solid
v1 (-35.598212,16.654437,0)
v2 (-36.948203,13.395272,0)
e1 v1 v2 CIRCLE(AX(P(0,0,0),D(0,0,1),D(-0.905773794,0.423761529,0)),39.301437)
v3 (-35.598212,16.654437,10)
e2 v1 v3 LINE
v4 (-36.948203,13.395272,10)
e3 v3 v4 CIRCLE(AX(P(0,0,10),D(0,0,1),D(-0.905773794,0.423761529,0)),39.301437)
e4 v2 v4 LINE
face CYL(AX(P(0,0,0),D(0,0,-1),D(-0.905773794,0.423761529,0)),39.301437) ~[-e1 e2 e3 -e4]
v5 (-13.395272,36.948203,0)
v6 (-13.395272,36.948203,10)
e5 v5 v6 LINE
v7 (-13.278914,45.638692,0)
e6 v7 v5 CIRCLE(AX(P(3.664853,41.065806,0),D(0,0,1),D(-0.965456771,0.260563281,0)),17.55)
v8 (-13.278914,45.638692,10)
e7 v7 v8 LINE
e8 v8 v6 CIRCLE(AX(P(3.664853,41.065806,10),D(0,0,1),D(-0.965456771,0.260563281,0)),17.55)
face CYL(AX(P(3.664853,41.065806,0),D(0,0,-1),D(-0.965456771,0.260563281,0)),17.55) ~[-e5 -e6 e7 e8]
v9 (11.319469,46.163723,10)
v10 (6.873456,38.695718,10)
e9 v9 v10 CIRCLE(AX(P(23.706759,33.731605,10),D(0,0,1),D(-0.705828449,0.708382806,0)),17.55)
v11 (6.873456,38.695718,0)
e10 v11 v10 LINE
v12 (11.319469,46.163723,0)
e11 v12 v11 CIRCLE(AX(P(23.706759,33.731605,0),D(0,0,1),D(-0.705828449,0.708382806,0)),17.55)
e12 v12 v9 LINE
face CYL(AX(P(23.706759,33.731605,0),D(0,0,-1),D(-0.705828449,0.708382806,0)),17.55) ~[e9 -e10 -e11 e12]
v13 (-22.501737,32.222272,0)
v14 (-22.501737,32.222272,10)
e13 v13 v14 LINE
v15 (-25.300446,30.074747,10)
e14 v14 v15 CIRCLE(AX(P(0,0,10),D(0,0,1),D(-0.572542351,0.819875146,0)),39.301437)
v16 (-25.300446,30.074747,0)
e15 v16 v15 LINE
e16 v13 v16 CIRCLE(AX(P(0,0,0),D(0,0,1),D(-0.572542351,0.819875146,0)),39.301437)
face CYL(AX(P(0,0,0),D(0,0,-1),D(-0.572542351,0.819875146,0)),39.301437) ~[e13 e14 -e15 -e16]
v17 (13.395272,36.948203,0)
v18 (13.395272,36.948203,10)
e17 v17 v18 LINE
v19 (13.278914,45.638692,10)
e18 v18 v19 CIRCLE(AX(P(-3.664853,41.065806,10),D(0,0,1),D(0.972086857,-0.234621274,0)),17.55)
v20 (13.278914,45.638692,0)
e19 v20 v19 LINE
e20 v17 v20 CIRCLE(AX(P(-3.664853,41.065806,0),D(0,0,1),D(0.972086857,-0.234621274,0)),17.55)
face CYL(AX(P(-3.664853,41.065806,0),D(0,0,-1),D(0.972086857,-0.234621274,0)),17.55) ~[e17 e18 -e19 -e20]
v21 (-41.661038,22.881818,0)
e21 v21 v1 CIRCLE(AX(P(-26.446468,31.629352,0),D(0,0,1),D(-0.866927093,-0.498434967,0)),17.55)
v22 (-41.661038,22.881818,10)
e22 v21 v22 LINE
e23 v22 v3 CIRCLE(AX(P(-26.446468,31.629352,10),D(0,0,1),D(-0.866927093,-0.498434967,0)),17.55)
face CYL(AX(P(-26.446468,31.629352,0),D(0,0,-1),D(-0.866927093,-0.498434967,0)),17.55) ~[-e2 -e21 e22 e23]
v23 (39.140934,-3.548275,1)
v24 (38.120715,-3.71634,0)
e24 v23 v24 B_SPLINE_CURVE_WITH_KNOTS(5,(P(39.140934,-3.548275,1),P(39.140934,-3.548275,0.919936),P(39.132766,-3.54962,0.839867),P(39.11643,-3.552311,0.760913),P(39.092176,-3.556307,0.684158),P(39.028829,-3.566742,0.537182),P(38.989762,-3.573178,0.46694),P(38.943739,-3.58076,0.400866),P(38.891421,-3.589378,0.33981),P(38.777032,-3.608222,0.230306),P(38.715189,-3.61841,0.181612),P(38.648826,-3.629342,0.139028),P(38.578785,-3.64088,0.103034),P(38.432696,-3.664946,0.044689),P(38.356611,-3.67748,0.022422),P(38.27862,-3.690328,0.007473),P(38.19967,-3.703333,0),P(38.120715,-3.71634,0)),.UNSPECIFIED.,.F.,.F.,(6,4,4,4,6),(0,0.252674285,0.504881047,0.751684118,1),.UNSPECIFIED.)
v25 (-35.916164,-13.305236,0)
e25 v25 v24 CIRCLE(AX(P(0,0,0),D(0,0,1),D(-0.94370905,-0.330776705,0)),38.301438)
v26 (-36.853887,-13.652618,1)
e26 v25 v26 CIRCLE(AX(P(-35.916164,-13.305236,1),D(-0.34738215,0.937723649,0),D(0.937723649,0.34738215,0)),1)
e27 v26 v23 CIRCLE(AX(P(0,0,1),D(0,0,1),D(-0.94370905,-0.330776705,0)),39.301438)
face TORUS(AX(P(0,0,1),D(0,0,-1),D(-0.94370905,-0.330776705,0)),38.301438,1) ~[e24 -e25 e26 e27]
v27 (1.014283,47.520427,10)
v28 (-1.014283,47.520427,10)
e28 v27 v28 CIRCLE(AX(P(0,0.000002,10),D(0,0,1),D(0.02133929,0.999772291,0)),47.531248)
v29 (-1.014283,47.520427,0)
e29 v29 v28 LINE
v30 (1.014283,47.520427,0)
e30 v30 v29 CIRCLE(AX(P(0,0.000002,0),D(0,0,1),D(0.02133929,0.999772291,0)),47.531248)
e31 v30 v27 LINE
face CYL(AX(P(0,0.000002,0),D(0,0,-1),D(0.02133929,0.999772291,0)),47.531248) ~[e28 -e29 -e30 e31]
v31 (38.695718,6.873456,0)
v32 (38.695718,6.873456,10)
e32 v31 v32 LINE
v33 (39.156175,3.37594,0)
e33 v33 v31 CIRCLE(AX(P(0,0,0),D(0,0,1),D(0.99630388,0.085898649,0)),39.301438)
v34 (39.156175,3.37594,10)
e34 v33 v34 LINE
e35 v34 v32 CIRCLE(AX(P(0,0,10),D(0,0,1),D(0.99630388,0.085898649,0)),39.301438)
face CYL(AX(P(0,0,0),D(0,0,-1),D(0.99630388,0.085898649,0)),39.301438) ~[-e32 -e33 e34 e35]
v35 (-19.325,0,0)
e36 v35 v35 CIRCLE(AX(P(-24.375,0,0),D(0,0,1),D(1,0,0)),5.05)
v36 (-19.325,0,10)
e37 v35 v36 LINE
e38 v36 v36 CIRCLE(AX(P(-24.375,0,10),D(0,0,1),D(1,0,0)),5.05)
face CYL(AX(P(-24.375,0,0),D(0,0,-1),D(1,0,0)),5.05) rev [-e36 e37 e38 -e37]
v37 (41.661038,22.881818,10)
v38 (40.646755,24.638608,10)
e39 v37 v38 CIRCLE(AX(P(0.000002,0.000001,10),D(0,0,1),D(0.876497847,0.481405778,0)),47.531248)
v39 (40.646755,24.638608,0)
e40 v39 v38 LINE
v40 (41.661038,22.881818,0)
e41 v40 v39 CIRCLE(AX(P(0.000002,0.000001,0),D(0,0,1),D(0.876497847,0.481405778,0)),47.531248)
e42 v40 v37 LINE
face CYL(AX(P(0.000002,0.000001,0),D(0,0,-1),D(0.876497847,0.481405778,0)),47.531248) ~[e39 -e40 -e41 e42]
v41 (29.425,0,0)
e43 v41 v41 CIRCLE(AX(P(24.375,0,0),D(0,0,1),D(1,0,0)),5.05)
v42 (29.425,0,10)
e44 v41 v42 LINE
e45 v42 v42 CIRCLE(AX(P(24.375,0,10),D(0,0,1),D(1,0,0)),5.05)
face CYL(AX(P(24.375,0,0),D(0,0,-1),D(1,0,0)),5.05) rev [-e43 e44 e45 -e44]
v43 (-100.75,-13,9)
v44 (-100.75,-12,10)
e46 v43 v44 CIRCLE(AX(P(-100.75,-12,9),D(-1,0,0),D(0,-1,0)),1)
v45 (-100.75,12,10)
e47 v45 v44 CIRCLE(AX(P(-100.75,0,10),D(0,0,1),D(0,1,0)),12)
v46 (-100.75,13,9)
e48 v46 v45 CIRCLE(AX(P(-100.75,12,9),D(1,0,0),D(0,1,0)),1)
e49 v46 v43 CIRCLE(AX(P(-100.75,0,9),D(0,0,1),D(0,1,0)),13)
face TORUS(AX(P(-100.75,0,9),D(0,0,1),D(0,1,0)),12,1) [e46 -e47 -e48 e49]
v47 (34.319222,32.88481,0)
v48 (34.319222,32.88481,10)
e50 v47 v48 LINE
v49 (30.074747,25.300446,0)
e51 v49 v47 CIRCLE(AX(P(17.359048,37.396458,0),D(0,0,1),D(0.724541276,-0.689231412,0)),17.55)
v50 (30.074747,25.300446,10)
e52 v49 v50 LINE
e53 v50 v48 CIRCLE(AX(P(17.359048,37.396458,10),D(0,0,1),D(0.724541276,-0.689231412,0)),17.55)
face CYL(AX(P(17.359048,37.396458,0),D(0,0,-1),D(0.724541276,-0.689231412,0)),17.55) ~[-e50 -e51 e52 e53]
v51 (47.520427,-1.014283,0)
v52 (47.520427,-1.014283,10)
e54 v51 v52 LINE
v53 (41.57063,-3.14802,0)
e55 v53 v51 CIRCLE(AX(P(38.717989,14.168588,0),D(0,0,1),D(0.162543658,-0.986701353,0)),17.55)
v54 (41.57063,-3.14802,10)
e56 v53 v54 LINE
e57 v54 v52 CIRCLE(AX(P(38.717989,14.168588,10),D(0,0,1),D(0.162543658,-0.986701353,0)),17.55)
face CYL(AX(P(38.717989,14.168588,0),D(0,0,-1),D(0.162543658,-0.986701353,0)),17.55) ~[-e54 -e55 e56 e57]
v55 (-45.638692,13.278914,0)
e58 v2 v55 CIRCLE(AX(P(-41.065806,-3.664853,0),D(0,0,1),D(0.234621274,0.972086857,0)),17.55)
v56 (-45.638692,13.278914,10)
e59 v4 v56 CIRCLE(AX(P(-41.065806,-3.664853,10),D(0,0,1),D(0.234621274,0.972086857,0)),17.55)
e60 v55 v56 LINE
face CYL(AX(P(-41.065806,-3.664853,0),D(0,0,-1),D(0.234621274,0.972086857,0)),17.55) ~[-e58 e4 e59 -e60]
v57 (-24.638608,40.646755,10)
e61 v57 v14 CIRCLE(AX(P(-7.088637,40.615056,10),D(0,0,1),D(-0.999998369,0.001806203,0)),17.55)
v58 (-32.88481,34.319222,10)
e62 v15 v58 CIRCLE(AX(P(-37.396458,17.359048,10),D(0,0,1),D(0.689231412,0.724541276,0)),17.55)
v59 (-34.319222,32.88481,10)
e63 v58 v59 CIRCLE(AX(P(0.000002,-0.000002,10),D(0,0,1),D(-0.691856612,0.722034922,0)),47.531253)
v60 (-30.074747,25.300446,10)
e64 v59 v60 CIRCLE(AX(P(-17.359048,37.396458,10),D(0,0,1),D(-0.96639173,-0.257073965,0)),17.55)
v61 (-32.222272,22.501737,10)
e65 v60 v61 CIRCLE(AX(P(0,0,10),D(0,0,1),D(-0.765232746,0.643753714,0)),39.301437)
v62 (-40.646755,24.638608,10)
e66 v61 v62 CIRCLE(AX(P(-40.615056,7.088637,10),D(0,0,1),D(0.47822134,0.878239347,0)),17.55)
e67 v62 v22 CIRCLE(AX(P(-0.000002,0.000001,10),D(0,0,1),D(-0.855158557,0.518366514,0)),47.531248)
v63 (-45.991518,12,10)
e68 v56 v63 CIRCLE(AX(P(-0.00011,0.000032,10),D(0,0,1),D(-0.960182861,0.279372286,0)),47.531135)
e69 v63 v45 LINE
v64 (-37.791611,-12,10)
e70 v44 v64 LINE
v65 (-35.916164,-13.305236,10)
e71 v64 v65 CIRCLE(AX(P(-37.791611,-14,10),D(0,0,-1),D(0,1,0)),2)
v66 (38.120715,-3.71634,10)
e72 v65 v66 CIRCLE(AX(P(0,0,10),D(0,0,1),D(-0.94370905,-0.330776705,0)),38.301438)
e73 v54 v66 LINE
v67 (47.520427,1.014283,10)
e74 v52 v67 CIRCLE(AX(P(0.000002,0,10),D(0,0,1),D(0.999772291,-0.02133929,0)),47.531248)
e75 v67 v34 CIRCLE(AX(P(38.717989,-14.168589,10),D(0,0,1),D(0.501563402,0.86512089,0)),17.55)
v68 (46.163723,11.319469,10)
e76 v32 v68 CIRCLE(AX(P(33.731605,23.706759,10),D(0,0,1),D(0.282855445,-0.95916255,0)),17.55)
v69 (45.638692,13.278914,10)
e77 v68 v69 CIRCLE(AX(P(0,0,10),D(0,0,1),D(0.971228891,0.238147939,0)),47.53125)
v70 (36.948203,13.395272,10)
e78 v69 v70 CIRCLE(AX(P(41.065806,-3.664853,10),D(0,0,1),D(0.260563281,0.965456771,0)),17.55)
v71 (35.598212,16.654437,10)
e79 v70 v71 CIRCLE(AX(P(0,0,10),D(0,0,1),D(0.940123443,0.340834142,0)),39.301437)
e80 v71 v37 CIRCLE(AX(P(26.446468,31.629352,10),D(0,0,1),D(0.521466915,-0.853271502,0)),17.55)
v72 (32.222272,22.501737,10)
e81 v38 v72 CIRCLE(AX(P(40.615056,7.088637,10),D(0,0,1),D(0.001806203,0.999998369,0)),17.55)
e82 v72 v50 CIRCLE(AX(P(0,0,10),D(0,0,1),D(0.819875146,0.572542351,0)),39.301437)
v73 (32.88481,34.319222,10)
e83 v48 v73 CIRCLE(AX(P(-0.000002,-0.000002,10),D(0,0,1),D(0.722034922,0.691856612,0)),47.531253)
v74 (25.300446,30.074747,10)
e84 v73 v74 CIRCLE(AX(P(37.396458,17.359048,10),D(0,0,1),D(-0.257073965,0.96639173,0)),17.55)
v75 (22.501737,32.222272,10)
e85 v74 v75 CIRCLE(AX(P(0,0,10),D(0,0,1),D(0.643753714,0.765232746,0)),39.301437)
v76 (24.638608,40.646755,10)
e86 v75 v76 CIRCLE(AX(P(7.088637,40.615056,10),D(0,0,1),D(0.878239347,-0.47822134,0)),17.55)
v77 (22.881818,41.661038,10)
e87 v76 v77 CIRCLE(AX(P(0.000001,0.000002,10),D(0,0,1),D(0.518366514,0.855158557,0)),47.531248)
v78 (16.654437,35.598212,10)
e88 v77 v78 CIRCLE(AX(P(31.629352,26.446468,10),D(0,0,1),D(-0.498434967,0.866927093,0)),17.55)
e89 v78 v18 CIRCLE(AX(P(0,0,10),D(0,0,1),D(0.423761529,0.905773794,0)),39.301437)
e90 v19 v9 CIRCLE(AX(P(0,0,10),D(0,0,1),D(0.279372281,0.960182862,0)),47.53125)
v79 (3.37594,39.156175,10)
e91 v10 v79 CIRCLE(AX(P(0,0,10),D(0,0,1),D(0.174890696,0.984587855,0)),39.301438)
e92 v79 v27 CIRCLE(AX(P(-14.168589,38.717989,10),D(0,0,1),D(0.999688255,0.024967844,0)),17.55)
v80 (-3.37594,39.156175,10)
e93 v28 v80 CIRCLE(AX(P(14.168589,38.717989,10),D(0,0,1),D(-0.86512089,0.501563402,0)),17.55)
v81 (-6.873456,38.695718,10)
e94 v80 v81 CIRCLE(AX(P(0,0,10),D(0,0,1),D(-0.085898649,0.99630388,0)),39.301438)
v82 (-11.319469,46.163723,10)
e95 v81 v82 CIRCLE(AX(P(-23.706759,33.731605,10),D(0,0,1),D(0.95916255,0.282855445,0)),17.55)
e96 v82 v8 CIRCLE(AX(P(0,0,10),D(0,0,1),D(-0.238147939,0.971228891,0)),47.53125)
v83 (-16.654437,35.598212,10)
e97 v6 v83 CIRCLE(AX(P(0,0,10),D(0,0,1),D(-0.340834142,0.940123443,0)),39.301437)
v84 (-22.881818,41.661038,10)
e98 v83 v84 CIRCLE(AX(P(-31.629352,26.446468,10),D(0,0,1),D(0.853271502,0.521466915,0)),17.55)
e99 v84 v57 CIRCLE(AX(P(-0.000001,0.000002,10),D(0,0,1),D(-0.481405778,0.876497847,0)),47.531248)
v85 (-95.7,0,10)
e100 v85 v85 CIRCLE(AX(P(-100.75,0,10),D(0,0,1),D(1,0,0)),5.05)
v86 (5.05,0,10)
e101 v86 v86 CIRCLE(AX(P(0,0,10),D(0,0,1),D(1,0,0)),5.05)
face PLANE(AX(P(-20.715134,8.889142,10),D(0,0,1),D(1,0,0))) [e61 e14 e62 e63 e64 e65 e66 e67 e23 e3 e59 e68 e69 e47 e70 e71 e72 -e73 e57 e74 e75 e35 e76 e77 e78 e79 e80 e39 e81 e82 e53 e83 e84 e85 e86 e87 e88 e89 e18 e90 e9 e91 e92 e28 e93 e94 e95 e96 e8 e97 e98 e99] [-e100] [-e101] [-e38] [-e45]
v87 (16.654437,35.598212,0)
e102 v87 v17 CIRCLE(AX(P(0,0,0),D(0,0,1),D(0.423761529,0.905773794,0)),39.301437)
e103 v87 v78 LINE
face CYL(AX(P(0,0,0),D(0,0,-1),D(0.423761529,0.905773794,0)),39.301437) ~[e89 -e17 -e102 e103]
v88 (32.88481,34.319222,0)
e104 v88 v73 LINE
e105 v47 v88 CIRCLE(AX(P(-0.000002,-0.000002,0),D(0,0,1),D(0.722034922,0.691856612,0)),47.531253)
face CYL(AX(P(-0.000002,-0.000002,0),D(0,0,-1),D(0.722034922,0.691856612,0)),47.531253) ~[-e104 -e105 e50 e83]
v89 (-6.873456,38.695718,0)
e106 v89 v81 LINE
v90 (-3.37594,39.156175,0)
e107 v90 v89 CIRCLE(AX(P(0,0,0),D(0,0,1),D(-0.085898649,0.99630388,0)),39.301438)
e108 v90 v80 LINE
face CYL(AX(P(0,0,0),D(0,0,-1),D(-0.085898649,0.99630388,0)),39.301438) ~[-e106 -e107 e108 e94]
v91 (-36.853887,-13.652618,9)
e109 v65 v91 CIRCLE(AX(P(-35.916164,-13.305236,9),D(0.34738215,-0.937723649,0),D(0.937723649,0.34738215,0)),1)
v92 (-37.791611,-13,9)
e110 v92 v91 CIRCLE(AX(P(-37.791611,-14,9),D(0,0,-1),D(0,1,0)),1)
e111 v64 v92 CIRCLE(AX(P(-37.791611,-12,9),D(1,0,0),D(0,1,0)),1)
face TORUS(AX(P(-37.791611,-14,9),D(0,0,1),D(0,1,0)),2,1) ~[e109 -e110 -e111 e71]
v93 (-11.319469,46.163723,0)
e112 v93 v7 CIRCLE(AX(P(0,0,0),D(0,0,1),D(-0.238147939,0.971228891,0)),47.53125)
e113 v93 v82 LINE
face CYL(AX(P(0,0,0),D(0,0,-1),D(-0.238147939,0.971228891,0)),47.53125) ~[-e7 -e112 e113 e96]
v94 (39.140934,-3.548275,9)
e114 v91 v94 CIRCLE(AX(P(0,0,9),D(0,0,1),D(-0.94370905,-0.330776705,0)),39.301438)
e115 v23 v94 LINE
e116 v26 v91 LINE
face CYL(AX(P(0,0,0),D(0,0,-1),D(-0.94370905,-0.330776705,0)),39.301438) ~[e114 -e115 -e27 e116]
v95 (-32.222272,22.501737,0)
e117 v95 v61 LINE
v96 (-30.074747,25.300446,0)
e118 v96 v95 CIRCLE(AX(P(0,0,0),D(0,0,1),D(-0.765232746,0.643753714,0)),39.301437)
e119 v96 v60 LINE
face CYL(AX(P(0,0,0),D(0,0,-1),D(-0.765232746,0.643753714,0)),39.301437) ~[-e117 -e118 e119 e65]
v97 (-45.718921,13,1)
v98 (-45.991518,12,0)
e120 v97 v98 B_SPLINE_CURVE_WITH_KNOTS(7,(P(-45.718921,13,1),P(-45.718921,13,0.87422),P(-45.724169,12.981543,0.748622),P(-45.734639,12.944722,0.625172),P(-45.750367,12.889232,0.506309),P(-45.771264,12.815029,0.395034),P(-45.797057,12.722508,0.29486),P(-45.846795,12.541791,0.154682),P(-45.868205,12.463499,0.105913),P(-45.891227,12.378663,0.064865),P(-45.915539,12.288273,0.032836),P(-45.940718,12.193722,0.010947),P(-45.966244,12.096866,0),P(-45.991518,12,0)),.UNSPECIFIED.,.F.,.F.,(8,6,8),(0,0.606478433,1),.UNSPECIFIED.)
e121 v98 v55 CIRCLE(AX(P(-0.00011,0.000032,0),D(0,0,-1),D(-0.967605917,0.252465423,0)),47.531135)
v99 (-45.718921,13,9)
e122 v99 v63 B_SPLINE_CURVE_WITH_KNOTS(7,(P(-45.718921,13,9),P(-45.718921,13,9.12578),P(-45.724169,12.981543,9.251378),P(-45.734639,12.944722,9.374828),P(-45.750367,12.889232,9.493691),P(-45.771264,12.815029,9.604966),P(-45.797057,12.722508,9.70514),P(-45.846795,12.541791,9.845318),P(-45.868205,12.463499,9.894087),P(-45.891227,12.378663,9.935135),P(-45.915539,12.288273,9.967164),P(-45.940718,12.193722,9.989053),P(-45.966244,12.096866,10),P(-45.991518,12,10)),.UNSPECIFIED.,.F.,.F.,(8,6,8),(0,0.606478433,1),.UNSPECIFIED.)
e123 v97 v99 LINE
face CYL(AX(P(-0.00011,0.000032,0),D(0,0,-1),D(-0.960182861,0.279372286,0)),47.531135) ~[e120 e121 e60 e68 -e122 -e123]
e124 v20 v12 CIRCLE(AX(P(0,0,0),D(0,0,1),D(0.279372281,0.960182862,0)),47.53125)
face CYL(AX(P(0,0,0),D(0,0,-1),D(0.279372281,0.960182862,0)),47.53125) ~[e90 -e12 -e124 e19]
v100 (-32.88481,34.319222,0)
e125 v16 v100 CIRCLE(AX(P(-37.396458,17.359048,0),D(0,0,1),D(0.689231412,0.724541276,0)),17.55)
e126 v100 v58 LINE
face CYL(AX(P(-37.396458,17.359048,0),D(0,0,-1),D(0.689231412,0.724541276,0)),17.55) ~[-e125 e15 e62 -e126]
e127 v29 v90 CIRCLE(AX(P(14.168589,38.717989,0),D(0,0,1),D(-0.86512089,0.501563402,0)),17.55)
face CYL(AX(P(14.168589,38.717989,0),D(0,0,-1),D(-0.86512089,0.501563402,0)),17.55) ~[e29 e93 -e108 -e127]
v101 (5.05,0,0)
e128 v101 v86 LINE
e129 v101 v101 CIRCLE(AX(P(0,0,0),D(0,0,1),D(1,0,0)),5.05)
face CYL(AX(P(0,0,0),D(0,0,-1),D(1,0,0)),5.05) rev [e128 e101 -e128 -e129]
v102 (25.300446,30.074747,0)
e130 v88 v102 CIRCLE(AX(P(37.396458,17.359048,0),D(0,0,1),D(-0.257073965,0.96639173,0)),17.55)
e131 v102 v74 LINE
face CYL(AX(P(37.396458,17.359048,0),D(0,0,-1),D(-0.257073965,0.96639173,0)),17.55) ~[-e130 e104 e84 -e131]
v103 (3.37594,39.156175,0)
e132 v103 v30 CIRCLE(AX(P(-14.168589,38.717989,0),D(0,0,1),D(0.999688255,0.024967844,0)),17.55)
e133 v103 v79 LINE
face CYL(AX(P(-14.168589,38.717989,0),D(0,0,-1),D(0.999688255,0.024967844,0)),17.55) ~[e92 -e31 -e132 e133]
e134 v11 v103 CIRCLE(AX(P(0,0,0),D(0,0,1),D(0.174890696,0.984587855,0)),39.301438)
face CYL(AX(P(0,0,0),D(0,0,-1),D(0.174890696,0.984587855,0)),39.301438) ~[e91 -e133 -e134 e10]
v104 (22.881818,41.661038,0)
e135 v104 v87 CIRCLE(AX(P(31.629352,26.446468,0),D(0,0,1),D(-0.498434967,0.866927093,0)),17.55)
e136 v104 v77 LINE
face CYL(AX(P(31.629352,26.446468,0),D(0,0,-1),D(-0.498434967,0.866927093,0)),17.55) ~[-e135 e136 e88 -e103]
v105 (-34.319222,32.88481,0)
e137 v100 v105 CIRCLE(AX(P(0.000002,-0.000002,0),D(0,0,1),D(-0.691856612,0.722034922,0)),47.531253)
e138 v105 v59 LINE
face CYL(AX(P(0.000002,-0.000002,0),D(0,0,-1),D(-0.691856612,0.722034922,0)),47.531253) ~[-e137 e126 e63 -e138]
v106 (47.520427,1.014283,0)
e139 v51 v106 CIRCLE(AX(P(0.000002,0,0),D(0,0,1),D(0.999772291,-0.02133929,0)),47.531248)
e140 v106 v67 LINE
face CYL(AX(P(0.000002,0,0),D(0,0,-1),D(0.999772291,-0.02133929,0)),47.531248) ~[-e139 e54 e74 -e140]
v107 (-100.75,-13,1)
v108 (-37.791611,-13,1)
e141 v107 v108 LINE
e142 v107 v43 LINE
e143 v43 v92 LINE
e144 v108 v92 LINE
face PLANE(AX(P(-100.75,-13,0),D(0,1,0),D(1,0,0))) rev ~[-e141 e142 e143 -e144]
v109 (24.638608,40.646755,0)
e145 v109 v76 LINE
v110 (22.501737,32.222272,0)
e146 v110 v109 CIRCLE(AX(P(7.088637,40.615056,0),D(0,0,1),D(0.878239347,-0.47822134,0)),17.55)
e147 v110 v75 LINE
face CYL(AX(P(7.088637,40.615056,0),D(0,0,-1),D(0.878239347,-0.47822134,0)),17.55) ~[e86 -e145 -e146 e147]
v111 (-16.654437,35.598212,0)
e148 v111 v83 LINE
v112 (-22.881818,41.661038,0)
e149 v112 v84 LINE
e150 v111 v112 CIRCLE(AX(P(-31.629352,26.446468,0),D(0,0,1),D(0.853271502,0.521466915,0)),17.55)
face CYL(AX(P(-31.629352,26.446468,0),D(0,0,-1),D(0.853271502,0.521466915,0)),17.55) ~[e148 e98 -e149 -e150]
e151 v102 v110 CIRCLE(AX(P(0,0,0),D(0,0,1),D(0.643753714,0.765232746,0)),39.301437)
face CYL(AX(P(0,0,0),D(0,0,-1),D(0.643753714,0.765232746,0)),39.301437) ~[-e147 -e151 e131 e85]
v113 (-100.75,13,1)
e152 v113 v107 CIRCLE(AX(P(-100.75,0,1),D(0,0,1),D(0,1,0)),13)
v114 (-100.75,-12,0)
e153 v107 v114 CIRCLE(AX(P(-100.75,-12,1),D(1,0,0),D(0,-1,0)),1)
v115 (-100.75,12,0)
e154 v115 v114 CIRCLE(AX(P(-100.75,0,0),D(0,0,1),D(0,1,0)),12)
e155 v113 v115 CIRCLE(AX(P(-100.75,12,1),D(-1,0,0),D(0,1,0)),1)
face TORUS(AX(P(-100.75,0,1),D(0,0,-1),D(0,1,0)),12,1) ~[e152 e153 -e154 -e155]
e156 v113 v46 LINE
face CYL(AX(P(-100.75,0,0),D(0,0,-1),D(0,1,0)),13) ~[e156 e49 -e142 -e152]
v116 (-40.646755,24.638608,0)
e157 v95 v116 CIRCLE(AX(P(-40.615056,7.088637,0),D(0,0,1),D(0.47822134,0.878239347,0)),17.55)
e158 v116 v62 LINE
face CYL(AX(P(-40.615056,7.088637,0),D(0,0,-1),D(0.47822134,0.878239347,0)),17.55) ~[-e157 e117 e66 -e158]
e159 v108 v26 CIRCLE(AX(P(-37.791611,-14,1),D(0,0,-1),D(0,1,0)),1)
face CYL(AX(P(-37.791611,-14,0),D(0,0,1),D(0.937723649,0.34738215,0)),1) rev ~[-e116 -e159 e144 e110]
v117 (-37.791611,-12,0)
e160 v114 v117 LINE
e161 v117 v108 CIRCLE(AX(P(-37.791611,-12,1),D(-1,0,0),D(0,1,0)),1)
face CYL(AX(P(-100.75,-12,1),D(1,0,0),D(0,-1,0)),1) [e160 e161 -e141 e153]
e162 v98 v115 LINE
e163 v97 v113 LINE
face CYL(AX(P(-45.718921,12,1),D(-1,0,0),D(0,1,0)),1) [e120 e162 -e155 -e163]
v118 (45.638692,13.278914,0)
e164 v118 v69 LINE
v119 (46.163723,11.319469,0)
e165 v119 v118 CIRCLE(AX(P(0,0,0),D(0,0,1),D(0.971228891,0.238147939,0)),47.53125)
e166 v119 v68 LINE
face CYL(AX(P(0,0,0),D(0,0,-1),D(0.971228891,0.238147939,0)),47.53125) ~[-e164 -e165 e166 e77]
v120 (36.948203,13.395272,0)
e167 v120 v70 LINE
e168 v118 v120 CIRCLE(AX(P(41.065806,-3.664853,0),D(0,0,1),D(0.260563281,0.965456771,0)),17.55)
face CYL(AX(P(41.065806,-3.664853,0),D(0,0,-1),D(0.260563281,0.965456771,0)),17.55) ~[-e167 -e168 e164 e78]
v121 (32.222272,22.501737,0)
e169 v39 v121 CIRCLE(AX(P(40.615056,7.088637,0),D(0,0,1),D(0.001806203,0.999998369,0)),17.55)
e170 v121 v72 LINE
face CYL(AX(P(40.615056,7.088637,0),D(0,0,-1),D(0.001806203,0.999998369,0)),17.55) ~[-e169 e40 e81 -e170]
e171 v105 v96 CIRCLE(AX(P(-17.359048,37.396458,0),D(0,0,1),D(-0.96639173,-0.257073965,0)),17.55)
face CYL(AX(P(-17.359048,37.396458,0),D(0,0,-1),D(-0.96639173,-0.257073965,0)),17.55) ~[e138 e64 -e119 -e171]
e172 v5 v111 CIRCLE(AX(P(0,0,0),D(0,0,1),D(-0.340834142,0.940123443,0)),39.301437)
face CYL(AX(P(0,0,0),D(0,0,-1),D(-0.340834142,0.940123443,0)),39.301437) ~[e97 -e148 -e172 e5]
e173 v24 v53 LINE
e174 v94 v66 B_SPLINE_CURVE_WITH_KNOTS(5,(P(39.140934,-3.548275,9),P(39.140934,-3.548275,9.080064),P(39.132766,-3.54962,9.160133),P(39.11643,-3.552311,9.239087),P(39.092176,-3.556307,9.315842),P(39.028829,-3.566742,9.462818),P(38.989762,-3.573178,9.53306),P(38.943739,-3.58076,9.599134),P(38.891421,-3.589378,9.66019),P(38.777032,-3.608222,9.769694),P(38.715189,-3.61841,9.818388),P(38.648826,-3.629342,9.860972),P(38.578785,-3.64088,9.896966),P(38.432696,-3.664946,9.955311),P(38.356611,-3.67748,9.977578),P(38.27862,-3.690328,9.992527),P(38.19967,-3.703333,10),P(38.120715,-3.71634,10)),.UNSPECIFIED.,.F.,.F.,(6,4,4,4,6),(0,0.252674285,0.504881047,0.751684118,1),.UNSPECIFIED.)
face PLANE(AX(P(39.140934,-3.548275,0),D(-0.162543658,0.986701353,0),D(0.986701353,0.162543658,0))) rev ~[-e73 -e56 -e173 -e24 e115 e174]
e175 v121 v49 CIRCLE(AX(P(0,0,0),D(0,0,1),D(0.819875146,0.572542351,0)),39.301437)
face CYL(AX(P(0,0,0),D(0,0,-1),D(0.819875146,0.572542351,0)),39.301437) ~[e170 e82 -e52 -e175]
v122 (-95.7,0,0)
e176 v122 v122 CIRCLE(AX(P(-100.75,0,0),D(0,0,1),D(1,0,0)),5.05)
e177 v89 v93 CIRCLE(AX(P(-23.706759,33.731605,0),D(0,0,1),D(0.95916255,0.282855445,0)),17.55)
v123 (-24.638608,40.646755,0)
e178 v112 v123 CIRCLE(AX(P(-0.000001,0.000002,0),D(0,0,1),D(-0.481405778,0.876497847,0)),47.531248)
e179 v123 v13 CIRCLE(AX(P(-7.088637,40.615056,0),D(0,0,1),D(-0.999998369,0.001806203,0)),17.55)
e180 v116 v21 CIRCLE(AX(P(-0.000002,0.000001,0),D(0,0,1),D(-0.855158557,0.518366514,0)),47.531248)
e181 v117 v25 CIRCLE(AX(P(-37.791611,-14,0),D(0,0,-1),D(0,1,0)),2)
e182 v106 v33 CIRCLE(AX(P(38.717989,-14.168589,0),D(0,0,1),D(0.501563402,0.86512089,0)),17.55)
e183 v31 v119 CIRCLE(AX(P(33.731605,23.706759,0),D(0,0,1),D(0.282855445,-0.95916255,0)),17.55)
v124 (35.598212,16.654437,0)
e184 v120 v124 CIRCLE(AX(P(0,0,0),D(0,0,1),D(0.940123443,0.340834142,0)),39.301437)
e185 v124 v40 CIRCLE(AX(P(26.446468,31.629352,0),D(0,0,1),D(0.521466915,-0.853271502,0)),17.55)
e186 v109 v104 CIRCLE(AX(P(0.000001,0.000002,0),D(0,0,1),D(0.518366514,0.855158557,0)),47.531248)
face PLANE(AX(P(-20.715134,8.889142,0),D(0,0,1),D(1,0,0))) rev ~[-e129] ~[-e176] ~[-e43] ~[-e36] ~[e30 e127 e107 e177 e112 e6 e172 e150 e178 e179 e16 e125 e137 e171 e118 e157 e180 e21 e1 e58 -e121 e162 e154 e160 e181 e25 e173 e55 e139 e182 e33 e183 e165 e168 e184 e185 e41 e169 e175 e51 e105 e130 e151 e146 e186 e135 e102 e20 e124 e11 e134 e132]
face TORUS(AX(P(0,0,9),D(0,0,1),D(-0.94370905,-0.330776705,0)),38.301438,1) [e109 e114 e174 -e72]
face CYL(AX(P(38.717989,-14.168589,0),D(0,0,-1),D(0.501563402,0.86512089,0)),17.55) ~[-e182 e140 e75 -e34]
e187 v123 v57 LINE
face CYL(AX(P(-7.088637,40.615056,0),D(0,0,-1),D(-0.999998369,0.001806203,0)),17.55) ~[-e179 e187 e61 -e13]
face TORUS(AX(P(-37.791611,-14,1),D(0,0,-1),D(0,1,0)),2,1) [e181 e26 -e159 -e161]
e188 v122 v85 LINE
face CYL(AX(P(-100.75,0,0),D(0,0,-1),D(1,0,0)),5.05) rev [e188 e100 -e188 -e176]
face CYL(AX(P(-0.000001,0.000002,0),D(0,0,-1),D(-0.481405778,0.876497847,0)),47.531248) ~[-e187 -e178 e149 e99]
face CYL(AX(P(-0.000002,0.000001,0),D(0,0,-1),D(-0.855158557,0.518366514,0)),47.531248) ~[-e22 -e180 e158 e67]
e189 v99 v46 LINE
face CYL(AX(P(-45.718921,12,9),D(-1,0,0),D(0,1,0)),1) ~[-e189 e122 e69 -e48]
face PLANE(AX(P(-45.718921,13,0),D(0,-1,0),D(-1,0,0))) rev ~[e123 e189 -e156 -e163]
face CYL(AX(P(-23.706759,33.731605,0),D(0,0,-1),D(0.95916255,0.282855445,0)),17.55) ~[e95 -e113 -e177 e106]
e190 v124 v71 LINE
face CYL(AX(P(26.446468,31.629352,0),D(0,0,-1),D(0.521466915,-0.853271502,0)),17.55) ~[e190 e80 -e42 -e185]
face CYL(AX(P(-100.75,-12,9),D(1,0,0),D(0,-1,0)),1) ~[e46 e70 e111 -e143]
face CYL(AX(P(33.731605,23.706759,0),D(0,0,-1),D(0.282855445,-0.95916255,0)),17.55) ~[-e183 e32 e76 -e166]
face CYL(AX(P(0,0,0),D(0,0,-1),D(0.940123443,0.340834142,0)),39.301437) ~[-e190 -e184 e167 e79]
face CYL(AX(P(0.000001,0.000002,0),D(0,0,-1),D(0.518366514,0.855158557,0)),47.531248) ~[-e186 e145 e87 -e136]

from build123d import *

# Parameters (mm, degrees)
SKETCH_1_R      = 5.05
EXTRUDE_1_DEPTH = 10
FILLET_1_R      = 1


with BuildPart() as part:
    # 草图1 → 凸台-拉伸1 (new body)
    with BuildSketch(Plane.XY):
        with BuildLine():
            Line((39.140934276, -3.548274735), (41.570630213, -3.148020227))
            ThreePointArc((41.570630213, -3.148020227), (44.642381358, -2.351220065), (47.520426727, -1.0142831))
            ThreePointArc((47.520426727, -1.0142831), (47.53125, 0), (47.520426727, 1.0142831))
            ThreePointArc((47.520426727, 1.0142831), (43.486808197, 2.721078851), (39.156174689, 3.375940359))
            ThreePointArc((39.156174689, 3.375940359), (38.965208254, 5.129866986), (38.695718051, 6.873455762))
            ThreePointArc((38.695718051, 6.873455762), (42.709298171, 8.626853835), (46.163723236, 11.319469227))
            ThreePointArc((46.163723236, 11.319469227), (45.911661931, 12.301992738), (45.638691669, 13.27891371))
            ThreePointArc((45.638691669, 13.27891371), (41.300764111, 13.88357451), (36.948202731, 13.395271723))
            ThreePointArc((36.948202731, 13.395271723), (36.309793705, 15.040008999), (35.598212175, 16.654437232))
            ThreePointArc((35.598212175, 16.654437232), (39.021220054, 19.386880688), (41.661038295, 22.881818432))
            ThreePointArc((41.661038295, 22.881818432), (41.163269974, 23.765625), (40.646755194, 24.638608295))
            ThreePointArc((40.646755194, 24.638608295), (36.300141203, 24.09992751), (32.222271816, 22.501737457))
            ThreePointArc((32.222271816, 22.501737457), (31.179926719, 23.925199255), (30.074746968, 25.300446327))
            ThreePointArc((30.074746968, 25.300446327), (32.673910276, 28.825723661), (34.319222442, 32.884809526))
            ThreePointArc((34.319222442, 32.884809526), (33.609669193, 33.609669193), (32.884809526, 34.319222442))
            ThreePointArc((32.884809526, 34.319222442), (28.825723661, 32.673910276), (25.300446327, 30.074746968))
            ThreePointArc((25.300446327, 30.074746968), (23.925199255, 31.179926719), (22.501737457, 32.222271816))
            ThreePointArc((22.501737457, 32.222271816), (24.09992751, 36.300141203), (24.638608295, 40.646755194))
            ThreePointArc((24.638608295, 40.646755194), (23.765625, 41.163269974), (22.881818432, 41.661038295))
            ThreePointArc((22.881818432, 41.661038295), (19.386880688, 39.021220054), (16.654437232, 35.598212175))
            ThreePointArc((16.654437232, 35.598212175), (15.040008999, 36.309793705), (13.395271723, 36.948202731))
            ThreePointArc((13.395271723, 36.948202731), (13.88357451, 41.300764111), (13.27891371, 45.638691669))
            ThreePointArc((13.27891371, 45.638691669), (12.301992738, 45.911661931), (11.319469227, 46.163723236))
            ThreePointArc((11.319469227, 46.163723236), (8.626853835, 42.709298171), (6.873455762, 38.695718051))
            ThreePointArc((6.873455762, 38.695718051), (5.129866986, 38.965208254), (3.375940359, 39.156174689))
            ThreePointArc((3.375940359, 39.156174689), (2.721078851, 43.486808197), (1.0142831, 47.520426727))
            ThreePointArc((1.0142831, 47.520426727), (0, 47.53125), (-1.0142831, 47.520426727))
            ThreePointArc((-1.0142831, 47.520426727), (-2.721078851, 43.486808197), (-3.375940359, 39.156174689))
            ThreePointArc((-3.375940359, 39.156174689), (-5.129866986, 38.965208254), (-6.873455762, 38.695718051))
            ThreePointArc((-6.873455762, 38.695718051), (-8.626853835, 42.709298171), (-11.319469227, 46.163723236))
            ThreePointArc((-11.319469227, 46.163723236), (-12.301992738, 45.911661931), (-13.27891371, 45.638691669))
            ThreePointArc((-13.27891371, 45.638691669), (-13.88357451, 41.300764111), (-13.395271723, 36.948202731))
            ThreePointArc((-13.395271723, 36.948202731), (-15.040008999, 36.309793705), (-16.654437232, 35.598212175))
            ThreePointArc((-16.654437232, 35.598212175), (-19.386880688, 39.021220054), (-22.881818432, 41.661038295))
            ThreePointArc((-22.881818432, 41.661038295), (-23.765625, 41.163269974), (-24.638608295, 40.646755194))
            ThreePointArc((-24.638608295, 40.646755194), (-24.09992751, 36.300141203), (-22.501737457, 32.222271816))
            ThreePointArc((-22.501737457, 32.222271816), (-23.925199255, 31.179926719), (-25.300446327, 30.074746968))
            ThreePointArc((-25.300446327, 30.074746968), (-28.825723661, 32.673910276), (-32.884809526, 34.319222442))
            ThreePointArc((-32.884809526, 34.319222442), (-33.609669193, 33.609669193), (-34.319222442, 32.884809526))
            ThreePointArc((-34.319222442, 32.884809526), (-32.673910276, 28.825723661), (-30.074746968, 25.300446327))
            ThreePointArc((-30.074746968, 25.300446327), (-31.179926719, 23.925199255), (-32.222271816, 22.501737457))
            ThreePointArc((-32.222271816, 22.501737457), (-36.300141203, 24.09992751), (-40.646755194, 24.638608295))
            ThreePointArc((-40.646755194, 24.638608295), (-41.163269974, 23.765625), (-41.661038295, 22.881818432))
            ThreePointArc((-41.661038295, 22.881818432), (-39.021220054, 19.386880688), (-35.598212175, 16.654437232))
            ThreePointArc((-35.598212175, 16.654437232), (-36.309793705, 15.040008999), (-36.948202731, 13.395271723))
            ThreePointArc((-36.948202731, 13.395271723), (-41.300764111, 13.88357451), (-45.638691669, 13.27891371))
            ThreePointArc((-45.638691669, 13.27891371), (-45.679019155, 13.13951809), (-45.718920881, 13))
            Line((-45.718920881, 13), (-100.75, 13))
            ThreePointArc((-100.75, 13), (-113.75, 0), (-100.75, -13))
            Line((-100.75, -13), (-37.089122254, -13))
            ThreePointArc((-37.089122254, -13), (4.835934322, -39.002778475), (39.140934276, -3.548274735))
        make_face()
        with Locations((24.375, 0)):
            Circle(SKETCH_1_R, mode=Mode.SUBTRACT)
        Circle(SKETCH_1_R, mode=Mode.SUBTRACT)
        with Locations((-24.375, 0)):
            Circle(SKETCH_1_R, mode=Mode.SUBTRACT)
        with Locations((-100.75, 0)):
            Circle(SKETCH_1_R, mode=Mode.SUBTRACT)
    extrude(amount=EXTRUDE_1_DEPTH)

    # 圆角1
    fillet_1_edges = [part.edges().sort_by_distance(p)[0] for p in [
        (-73.234460441, 13, 10),
        (-113.75, 0, 10),
        (-68.919561127, -13, 10),
        (-68.919561127, -13, 0),
        (-113.75, 0, 0),
        (-73.234460441, 13, 0),
        (4.835934322, -39.002778475, 10),
        (4.835934322, -39.002778475, 0),
        (-37.089122254, -13, 5),
    ]]
    fillet(fillet_1_edges, radius=FILLET_1_R)


solid = part.part
